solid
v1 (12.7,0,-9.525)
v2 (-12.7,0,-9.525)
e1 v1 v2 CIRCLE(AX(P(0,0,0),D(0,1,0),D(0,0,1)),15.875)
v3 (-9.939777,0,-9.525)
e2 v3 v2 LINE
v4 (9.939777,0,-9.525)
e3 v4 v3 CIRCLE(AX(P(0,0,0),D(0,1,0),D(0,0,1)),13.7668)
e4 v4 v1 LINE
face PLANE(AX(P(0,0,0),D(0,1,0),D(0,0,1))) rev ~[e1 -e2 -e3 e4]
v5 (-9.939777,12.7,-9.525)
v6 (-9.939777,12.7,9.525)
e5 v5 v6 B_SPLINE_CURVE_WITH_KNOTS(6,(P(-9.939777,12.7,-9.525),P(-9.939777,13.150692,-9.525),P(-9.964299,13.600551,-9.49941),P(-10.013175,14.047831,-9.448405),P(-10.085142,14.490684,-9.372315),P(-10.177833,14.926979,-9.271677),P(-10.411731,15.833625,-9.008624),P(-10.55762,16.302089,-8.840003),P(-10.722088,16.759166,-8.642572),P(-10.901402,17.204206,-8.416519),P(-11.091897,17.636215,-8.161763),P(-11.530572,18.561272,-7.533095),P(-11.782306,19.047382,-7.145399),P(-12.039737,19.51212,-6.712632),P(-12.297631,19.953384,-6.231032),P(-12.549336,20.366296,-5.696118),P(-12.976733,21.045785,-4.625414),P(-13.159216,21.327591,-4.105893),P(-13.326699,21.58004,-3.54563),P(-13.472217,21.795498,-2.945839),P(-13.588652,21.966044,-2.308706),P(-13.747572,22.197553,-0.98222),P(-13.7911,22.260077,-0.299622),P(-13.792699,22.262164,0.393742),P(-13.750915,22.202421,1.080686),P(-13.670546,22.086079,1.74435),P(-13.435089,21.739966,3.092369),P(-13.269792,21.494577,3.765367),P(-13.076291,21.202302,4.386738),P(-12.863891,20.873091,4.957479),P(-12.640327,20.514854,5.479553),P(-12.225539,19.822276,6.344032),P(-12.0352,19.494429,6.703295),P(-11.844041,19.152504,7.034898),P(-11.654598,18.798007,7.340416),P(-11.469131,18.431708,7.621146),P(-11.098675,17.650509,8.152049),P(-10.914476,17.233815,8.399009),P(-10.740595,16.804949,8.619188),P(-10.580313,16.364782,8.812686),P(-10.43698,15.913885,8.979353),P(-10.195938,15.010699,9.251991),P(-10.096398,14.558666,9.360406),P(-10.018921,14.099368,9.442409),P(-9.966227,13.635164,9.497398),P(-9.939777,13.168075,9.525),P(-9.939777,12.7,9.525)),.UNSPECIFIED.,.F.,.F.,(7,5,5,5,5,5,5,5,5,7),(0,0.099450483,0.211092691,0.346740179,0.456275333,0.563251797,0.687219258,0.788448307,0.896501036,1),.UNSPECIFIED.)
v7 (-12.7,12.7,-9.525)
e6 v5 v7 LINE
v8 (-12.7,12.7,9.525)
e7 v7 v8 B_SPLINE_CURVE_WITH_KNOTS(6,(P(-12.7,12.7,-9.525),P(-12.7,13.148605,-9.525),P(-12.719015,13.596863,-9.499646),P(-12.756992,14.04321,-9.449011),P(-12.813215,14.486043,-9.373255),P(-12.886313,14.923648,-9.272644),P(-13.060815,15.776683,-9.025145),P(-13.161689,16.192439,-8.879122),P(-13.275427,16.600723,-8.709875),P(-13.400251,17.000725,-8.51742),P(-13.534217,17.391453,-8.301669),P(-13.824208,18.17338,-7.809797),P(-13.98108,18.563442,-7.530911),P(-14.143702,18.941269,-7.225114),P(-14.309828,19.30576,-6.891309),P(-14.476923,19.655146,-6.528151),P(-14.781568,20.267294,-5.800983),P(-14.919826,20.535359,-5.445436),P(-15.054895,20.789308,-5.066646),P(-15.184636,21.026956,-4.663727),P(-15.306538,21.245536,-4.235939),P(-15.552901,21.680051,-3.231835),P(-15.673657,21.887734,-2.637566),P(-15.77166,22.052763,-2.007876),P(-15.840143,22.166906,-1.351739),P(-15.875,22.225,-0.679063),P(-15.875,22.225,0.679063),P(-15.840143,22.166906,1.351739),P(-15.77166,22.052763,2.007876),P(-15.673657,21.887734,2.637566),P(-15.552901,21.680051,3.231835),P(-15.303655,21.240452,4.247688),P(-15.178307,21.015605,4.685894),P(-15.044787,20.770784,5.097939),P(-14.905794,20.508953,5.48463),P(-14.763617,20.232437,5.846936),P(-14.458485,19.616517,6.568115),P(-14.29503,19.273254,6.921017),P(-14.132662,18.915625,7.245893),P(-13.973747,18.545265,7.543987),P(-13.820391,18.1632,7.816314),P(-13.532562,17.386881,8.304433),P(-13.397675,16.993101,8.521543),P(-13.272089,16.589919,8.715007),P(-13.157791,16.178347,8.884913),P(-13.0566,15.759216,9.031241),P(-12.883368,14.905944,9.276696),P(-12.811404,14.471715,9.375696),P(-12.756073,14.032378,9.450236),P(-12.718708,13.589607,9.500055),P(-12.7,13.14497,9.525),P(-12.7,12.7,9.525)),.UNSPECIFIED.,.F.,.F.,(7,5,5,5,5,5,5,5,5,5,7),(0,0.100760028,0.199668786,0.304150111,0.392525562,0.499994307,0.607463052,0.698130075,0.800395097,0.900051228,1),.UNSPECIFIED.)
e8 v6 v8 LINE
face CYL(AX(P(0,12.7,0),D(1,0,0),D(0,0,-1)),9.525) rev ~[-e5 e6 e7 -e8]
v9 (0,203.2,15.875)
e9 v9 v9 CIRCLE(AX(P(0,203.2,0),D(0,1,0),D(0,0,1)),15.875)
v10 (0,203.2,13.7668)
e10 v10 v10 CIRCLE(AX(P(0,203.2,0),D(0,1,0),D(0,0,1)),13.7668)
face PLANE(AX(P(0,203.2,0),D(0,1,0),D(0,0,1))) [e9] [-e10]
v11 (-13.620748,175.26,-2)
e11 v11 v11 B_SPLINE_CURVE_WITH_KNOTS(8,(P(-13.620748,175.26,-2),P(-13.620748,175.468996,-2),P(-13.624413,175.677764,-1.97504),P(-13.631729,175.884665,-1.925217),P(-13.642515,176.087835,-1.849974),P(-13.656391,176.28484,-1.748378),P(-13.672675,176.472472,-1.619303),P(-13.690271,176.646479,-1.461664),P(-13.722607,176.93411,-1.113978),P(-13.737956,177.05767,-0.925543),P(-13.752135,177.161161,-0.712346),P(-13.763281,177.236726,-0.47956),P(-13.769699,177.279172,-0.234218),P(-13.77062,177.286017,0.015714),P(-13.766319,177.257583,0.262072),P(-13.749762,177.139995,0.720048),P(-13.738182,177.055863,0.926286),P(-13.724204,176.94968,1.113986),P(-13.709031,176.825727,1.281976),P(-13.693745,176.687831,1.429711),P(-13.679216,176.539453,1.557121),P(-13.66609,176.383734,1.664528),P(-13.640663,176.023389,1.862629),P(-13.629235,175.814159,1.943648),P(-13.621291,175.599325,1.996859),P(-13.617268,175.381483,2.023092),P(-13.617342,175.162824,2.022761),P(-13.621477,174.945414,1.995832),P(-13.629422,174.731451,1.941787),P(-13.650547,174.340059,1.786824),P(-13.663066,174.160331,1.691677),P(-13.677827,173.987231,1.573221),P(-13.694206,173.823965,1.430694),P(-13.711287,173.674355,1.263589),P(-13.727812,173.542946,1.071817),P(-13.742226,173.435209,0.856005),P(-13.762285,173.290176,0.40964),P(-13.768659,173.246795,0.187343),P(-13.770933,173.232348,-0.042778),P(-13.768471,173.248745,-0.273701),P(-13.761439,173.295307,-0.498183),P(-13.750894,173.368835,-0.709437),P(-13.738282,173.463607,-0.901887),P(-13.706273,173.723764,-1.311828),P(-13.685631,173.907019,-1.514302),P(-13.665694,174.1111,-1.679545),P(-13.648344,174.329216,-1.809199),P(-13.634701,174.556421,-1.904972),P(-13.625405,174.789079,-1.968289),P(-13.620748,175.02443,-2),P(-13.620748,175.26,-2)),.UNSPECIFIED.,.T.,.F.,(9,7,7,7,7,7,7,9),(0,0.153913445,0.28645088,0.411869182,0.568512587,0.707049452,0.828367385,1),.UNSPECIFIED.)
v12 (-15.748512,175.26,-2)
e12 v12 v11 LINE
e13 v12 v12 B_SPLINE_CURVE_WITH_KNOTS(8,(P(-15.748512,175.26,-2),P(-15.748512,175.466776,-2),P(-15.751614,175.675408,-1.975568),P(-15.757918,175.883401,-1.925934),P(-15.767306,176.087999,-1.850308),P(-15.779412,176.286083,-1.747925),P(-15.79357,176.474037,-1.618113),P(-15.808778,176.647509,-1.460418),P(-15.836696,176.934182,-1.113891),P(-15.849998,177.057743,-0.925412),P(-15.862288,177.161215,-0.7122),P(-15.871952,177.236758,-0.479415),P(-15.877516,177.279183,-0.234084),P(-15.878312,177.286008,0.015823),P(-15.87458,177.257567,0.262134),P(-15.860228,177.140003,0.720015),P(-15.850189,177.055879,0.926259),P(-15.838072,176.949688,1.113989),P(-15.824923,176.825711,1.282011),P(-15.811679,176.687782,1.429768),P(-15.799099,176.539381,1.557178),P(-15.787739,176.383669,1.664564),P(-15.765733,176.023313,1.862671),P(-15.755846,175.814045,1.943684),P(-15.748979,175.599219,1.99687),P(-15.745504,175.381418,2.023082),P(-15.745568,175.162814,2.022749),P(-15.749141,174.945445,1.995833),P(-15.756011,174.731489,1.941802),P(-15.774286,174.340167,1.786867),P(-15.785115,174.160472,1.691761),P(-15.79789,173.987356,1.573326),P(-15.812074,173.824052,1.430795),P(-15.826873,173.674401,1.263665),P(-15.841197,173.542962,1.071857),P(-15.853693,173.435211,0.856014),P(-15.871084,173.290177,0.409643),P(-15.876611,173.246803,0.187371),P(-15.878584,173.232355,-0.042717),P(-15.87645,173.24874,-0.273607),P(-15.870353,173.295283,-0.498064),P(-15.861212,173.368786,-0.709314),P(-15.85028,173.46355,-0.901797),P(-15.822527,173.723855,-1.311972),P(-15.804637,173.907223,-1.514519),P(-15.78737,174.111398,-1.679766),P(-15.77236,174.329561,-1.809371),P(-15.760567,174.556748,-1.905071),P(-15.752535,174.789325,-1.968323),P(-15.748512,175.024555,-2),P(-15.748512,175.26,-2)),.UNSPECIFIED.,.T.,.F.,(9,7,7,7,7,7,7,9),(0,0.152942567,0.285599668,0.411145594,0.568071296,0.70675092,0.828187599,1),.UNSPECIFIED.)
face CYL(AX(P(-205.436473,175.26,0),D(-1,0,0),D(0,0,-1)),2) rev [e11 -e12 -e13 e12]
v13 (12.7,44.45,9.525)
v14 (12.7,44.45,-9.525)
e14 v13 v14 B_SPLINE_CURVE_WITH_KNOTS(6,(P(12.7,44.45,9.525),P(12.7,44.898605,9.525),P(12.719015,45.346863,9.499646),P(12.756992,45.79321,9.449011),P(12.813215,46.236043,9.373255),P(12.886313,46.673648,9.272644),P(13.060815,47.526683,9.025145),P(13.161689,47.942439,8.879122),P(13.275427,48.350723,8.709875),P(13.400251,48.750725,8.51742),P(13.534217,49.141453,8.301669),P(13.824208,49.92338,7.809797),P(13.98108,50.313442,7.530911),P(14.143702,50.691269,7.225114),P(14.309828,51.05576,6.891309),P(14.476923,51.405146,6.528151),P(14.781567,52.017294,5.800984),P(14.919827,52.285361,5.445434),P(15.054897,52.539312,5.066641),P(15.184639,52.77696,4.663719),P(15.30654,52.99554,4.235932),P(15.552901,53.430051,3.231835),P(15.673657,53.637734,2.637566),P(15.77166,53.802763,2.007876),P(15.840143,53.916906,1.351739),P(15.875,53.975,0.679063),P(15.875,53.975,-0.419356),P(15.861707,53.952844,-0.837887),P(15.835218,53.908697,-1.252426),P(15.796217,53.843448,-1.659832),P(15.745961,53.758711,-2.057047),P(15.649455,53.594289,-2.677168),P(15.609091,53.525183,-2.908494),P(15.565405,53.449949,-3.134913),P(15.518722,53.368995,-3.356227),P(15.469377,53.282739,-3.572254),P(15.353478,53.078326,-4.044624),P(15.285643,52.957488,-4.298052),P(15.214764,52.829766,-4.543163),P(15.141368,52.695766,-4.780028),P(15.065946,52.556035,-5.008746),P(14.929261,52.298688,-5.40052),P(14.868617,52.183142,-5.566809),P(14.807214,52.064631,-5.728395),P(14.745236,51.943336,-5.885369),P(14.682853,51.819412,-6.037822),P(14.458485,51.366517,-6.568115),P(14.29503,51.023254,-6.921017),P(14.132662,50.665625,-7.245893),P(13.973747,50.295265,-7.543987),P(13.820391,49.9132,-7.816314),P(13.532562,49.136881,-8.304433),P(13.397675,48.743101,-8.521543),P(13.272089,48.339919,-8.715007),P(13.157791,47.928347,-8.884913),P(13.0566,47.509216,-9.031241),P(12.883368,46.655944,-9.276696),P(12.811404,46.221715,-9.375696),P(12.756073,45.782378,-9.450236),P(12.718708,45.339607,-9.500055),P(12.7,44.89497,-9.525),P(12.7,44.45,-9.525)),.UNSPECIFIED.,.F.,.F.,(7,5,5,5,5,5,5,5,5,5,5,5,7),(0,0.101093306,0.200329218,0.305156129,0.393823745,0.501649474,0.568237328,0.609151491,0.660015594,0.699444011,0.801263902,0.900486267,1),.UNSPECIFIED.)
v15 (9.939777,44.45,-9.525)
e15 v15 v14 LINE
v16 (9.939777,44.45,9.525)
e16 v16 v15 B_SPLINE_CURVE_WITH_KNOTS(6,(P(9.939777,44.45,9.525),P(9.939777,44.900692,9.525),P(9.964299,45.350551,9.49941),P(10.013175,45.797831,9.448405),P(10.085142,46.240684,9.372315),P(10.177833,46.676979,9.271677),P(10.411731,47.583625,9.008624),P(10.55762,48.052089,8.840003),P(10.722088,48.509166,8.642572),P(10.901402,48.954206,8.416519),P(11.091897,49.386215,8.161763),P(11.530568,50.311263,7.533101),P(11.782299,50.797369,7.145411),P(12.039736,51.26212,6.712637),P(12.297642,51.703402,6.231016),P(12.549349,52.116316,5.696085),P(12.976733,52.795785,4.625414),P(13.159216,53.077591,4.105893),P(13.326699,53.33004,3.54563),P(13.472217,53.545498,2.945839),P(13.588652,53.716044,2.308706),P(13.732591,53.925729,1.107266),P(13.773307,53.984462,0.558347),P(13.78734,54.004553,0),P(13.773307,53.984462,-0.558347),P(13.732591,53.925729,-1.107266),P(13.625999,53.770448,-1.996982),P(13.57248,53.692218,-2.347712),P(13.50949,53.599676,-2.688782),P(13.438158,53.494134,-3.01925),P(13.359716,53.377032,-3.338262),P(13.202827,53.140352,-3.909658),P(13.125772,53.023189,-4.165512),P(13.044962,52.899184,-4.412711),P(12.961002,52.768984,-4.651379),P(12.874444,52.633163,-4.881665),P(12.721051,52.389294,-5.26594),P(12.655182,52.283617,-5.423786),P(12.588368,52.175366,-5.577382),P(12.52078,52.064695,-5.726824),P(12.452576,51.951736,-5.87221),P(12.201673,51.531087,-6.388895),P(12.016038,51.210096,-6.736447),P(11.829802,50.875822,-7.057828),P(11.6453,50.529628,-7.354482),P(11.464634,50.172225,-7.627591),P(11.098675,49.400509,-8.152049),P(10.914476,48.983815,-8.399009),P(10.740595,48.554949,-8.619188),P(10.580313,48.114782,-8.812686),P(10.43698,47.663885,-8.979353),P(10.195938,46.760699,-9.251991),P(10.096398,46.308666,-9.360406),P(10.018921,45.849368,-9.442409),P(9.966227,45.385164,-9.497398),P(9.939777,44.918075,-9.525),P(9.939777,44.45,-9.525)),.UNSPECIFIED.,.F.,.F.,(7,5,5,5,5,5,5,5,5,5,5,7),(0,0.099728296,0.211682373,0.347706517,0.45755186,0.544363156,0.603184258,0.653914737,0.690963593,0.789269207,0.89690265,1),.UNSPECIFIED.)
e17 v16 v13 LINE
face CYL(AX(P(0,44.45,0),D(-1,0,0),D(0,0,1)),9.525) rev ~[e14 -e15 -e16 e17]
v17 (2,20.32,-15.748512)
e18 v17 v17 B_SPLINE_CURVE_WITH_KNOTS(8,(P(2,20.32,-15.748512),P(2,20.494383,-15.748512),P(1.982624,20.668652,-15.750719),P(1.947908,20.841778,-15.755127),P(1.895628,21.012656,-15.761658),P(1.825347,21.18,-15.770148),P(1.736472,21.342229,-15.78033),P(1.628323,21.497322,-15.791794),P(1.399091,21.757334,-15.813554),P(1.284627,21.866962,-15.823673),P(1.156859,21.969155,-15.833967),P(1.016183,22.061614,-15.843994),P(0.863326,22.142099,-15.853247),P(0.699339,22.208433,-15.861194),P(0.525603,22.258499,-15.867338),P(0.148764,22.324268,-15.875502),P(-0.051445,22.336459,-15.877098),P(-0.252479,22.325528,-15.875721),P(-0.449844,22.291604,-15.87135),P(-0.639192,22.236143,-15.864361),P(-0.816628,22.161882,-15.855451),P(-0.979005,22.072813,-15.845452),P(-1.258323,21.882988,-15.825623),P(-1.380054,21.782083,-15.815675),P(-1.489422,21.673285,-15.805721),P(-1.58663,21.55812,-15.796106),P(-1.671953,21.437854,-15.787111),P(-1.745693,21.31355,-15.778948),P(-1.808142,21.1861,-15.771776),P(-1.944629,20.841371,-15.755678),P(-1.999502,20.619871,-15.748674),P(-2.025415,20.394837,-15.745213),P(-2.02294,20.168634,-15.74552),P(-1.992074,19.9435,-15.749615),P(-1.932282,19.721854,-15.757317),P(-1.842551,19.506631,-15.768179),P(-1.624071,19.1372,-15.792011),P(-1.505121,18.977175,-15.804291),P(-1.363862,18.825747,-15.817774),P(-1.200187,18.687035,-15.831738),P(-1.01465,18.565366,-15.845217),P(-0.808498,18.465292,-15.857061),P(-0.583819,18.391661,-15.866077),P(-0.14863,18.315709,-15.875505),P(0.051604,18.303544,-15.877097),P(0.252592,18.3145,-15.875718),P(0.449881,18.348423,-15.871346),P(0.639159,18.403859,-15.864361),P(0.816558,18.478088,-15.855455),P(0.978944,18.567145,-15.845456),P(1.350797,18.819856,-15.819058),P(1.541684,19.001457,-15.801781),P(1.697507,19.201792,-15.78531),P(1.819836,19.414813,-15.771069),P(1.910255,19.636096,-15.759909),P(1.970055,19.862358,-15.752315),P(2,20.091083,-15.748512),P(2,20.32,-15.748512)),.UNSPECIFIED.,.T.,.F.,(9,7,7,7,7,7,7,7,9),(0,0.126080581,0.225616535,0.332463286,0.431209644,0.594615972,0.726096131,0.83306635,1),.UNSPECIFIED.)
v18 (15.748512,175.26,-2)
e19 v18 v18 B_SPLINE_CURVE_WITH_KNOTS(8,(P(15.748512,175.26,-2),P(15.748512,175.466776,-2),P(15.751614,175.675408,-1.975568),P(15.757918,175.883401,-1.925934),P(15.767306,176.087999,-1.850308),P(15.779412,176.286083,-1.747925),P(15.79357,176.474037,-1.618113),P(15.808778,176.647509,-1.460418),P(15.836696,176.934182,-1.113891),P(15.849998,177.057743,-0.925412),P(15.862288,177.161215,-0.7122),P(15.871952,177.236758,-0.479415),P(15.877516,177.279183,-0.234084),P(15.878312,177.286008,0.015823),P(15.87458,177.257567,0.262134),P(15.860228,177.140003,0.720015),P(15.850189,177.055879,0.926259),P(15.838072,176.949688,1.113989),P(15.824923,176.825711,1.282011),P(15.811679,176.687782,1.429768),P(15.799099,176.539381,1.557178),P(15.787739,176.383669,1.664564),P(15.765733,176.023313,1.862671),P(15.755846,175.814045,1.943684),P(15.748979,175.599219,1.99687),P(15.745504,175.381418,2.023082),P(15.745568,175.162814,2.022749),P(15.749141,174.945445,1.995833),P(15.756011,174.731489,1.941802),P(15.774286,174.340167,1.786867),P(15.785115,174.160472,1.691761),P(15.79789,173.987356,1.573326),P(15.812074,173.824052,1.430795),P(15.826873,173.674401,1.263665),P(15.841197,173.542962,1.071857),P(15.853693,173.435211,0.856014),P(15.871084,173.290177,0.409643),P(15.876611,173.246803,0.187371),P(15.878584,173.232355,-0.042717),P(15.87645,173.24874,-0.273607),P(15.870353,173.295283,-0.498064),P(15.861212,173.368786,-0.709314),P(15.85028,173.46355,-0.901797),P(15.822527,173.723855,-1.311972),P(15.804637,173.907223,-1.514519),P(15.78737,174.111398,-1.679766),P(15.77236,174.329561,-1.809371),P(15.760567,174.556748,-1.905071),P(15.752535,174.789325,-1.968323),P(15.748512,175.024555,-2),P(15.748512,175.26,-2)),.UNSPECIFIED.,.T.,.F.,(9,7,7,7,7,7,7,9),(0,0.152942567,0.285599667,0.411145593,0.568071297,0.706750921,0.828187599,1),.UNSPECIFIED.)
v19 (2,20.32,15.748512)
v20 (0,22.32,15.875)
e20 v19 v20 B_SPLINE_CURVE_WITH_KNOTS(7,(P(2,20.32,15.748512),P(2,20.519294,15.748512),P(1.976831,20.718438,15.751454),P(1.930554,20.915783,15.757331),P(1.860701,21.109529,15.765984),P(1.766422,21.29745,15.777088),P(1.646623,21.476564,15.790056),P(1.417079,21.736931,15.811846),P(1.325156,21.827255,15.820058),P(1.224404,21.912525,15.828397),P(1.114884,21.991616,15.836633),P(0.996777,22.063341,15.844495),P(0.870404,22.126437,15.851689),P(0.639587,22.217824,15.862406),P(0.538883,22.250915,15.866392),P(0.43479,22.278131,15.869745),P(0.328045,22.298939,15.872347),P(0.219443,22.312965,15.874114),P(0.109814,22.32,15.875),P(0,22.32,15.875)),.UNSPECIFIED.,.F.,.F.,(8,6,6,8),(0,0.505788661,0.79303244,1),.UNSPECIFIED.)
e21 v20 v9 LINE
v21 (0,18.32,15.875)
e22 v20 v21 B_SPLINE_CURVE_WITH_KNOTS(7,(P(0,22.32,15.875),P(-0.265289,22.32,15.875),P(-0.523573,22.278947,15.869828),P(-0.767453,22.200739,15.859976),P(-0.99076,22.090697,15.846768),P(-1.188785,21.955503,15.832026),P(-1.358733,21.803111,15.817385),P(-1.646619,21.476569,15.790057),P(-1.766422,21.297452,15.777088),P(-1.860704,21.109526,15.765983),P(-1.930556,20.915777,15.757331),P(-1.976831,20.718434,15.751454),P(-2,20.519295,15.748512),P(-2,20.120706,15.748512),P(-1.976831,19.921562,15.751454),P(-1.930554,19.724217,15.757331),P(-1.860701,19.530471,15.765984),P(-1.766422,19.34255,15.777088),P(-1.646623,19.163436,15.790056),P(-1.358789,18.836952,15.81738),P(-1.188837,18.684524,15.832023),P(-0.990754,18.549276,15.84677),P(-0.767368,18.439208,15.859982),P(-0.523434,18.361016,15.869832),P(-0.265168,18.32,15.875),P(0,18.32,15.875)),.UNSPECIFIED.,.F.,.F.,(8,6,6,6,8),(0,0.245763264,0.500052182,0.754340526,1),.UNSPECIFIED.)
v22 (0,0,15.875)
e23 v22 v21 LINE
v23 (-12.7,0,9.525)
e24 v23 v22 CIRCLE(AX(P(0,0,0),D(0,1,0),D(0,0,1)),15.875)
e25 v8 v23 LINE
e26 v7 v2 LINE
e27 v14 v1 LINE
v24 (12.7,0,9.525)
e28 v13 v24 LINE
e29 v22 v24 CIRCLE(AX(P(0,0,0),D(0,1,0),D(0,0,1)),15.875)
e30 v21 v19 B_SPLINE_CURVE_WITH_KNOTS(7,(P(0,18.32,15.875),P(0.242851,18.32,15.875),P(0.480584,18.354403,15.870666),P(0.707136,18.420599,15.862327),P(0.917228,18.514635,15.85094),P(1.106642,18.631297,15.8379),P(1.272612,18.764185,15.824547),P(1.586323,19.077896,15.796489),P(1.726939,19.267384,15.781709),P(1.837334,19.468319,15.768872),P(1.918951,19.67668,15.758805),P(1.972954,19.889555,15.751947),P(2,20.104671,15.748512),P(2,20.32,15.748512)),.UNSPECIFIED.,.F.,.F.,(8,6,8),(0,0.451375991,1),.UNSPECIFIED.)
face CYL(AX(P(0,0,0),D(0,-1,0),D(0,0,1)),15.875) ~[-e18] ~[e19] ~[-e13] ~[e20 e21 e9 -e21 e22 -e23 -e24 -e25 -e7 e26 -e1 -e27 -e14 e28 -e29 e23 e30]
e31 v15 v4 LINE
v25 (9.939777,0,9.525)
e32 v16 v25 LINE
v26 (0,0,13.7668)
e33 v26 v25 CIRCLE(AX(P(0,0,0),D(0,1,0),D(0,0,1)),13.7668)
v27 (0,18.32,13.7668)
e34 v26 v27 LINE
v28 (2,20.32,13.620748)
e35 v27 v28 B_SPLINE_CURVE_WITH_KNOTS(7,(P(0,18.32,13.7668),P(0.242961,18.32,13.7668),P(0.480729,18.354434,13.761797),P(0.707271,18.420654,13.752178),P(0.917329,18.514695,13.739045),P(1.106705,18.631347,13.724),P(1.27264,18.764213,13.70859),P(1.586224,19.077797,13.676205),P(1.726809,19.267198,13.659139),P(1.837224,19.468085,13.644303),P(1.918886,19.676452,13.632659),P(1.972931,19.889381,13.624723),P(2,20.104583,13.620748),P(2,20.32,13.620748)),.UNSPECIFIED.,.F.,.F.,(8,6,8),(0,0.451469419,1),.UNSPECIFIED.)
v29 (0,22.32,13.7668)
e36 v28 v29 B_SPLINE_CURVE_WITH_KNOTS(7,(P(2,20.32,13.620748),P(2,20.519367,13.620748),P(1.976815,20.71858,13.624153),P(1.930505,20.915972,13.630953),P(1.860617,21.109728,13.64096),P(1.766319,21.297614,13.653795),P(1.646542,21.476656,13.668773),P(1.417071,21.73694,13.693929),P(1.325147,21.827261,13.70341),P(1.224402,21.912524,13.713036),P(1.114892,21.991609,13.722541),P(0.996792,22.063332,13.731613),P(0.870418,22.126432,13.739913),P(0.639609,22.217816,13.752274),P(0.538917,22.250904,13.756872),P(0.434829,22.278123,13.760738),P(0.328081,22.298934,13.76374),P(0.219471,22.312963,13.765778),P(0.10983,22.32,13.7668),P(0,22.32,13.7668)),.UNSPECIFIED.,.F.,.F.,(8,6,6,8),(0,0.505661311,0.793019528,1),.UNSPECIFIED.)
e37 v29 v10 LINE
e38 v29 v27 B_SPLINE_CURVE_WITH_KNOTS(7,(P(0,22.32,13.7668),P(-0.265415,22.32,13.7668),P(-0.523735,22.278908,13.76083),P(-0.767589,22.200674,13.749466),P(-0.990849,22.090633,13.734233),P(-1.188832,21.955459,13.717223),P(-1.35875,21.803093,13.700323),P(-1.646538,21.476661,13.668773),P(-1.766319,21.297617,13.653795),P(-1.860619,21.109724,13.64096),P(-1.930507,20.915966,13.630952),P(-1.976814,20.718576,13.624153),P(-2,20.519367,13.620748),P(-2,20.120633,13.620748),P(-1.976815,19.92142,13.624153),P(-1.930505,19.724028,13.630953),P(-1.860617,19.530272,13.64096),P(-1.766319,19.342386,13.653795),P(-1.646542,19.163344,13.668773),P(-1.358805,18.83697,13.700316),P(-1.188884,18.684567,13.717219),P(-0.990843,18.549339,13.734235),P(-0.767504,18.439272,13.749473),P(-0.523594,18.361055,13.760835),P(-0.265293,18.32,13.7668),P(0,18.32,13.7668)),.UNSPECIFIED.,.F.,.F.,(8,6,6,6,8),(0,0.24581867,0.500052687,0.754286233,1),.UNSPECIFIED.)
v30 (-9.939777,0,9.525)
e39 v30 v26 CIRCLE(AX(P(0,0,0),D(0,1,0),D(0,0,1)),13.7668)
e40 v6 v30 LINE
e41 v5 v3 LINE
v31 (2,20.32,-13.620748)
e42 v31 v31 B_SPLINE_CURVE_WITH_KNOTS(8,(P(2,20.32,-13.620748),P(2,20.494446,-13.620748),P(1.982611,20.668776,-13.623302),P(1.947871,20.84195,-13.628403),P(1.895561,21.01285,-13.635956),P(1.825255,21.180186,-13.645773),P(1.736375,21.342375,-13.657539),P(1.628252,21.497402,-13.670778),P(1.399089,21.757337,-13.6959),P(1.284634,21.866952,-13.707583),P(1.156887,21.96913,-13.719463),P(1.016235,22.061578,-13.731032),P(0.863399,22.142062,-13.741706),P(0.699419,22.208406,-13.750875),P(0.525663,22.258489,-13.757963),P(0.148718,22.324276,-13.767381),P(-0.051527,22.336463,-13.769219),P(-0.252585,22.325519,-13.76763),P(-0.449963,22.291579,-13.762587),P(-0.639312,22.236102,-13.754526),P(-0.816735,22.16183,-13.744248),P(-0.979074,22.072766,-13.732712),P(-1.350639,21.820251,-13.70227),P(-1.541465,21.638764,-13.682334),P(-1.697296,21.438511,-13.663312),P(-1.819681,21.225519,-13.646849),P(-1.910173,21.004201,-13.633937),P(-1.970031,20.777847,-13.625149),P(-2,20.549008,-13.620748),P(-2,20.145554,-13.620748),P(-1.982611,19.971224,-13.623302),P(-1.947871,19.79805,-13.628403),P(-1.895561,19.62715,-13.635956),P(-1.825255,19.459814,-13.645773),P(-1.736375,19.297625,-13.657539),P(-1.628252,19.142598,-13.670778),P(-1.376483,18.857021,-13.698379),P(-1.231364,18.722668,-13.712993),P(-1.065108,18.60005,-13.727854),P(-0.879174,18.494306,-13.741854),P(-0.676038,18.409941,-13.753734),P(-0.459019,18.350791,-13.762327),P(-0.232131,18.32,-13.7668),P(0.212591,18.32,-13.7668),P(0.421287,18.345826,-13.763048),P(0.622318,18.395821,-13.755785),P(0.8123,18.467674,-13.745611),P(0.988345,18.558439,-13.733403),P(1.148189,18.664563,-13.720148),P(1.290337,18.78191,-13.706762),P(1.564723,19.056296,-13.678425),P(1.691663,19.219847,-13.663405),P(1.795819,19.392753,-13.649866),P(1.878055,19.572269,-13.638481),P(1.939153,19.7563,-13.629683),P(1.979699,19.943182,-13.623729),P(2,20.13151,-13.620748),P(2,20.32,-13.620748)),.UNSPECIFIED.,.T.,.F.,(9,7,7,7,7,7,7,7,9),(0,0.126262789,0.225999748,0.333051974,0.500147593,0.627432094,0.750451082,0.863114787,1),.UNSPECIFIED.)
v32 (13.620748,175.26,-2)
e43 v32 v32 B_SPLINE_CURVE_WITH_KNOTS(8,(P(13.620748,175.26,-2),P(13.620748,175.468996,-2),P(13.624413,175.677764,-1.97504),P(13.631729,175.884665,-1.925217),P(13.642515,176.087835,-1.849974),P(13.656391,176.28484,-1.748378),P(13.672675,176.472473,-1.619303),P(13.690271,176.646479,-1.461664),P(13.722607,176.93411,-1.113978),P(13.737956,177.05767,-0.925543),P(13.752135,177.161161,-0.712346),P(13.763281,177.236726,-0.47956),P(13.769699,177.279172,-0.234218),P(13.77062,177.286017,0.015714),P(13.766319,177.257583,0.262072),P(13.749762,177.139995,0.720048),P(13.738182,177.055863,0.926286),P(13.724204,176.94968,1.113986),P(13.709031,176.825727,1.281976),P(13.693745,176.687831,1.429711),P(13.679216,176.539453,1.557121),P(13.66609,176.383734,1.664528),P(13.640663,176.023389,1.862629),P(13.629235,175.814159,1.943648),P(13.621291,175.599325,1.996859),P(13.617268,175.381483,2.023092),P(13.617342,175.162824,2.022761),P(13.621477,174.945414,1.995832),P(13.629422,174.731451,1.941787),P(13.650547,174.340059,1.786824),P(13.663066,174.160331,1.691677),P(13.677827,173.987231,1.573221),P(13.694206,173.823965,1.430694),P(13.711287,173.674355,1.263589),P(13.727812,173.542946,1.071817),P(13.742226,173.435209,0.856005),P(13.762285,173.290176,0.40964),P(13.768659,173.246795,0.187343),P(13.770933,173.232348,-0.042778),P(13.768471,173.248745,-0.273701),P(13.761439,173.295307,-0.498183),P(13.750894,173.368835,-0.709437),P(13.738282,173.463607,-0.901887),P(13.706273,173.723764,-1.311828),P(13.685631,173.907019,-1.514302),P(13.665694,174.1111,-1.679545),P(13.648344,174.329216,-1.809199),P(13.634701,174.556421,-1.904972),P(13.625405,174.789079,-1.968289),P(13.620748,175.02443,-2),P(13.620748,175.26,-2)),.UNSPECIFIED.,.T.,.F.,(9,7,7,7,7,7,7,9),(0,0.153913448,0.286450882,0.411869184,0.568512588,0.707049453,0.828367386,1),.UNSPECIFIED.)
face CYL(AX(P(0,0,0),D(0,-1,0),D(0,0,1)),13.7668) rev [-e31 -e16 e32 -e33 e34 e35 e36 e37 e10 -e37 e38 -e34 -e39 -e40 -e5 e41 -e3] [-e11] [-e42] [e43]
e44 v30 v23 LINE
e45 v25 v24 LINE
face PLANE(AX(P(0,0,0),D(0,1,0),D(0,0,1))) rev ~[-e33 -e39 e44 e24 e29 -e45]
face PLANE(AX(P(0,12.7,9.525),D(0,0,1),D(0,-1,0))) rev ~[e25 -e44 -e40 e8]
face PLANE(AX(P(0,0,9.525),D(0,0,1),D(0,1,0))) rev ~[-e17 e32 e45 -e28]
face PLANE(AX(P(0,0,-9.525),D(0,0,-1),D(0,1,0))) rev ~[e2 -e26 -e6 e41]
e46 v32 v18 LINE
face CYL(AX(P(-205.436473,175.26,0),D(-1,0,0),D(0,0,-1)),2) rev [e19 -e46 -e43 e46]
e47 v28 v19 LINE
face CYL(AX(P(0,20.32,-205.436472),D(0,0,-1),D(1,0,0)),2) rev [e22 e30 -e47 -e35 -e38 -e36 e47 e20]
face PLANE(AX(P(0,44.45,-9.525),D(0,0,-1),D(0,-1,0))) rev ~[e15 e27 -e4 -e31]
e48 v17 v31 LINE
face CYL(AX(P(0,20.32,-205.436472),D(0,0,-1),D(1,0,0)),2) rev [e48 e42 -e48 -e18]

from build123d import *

# Parameters (mm, degrees)
SKETCH1_R               = 15.875
SKETCH1_R_2             = 13.7668
BOSS_EXTRUDE1_DEPTH     = 203.2
CUT_EXTRUDE2_DEPTH      = 205.436472406
CUT_EXTRUDE2_DEPTH_BACK = 205.436472406
SKETCH4_R               = 2
CUT_EXTRUDE3_DEPTH      = 205.436472522
CUT_EXTRUDE3_DEPTH_BACK = 205.436472522
SKETCH3_R               = 2
CUT_EXTRUDE4_DEPTH      = 205.436472522
CUT_EXTRUDE5_DEPTH      = 205.436472522


with BuildPart() as part:
    # Sketch1 → Boss-Extrude1 (new body)
    with BuildSketch(Plane(origin=(0, 0, 0), x_dir=(1, 0, 0), z_dir=(0, 1, 0))):
        with Locations(Location((0, 0, 0), (0, 0, 270))):
            Circle(SKETCH1_R)
        with Locations(Location((0, 0, 0), (0, 0, 270))):
            Circle(SKETCH1_R_2, mode=Mode.SUBTRACT)
    extrude(amount=BOSS_EXTRUDE1_DEPTH)

    # Sketch4 → Cut-Extrude2 (cut, two sides: drawn at the far end of the back side and taken through both)
    with BuildSketch(Plane.XY.offset(-CUT_EXTRUDE2_DEPTH_BACK)):
        with Locations((0, 20.32)):
            Circle(SKETCH4_R)
    extrude(amount=CUT_EXTRUDE2_DEPTH + CUT_EXTRUDE2_DEPTH_BACK, mode=Mode.SUBTRACT)

    # Sketch3 → Cut-Extrude3 (cut, two sides: drawn at the far end of the back side and taken through both)
    with BuildSketch(Plane(origin=(0, 0, 0), x_dir=(0, 0, -1), z_dir=(1, 0, 0)).offset(-CUT_EXTRUDE3_DEPTH_BACK)):
        with Locations((0, 175.26)):
            Circle(SKETCH3_R)
    extrude(amount=CUT_EXTRUDE3_DEPTH + CUT_EXTRUDE3_DEPTH_BACK, mode=Mode.SUBTRACT)

    # Sketch5 → Cut-Extrude4 (cut, through all)
    with BuildSketch(Plane(origin=(0, 0, 0), x_dir=(0, 0, -1), z_dir=(1, 0, 0))):
        with BuildLine():
            Line((9.525, 44.45), (9.525, 0))
            Line((9.525, 0), (-9.525, 0))
            Line((-9.525, 0), (-9.525, 44.45))
            ThreePointArc((-9.525, 44.45), (0, 53.975), (9.525, 44.45))
        make_face()
    extrude(amount=CUT_EXTRUDE4_DEPTH, mode=Mode.SUBTRACT)

    # Sketch6 → Cut-Extrude5 (cut, through all)
    with BuildSketch(Plane(origin=(0, 0, 0), x_dir=(0, 0, -1), z_dir=(1, 0, 0))):
        with BuildLine():
            Line((-9.525, 0), (9.525, 0))
            Line((9.525, 0), (9.525, 12.7))
            ThreePointArc((9.525, 12.7), (0, 22.225), (-9.525, 12.7))
            Line((-9.525, 12.7), (-9.525, 0))
        make_face()
    extrude(amount=-CUT_EXTRUDE5_DEPTH, mode=Mode.SUBTRACT)


solid = part.part
